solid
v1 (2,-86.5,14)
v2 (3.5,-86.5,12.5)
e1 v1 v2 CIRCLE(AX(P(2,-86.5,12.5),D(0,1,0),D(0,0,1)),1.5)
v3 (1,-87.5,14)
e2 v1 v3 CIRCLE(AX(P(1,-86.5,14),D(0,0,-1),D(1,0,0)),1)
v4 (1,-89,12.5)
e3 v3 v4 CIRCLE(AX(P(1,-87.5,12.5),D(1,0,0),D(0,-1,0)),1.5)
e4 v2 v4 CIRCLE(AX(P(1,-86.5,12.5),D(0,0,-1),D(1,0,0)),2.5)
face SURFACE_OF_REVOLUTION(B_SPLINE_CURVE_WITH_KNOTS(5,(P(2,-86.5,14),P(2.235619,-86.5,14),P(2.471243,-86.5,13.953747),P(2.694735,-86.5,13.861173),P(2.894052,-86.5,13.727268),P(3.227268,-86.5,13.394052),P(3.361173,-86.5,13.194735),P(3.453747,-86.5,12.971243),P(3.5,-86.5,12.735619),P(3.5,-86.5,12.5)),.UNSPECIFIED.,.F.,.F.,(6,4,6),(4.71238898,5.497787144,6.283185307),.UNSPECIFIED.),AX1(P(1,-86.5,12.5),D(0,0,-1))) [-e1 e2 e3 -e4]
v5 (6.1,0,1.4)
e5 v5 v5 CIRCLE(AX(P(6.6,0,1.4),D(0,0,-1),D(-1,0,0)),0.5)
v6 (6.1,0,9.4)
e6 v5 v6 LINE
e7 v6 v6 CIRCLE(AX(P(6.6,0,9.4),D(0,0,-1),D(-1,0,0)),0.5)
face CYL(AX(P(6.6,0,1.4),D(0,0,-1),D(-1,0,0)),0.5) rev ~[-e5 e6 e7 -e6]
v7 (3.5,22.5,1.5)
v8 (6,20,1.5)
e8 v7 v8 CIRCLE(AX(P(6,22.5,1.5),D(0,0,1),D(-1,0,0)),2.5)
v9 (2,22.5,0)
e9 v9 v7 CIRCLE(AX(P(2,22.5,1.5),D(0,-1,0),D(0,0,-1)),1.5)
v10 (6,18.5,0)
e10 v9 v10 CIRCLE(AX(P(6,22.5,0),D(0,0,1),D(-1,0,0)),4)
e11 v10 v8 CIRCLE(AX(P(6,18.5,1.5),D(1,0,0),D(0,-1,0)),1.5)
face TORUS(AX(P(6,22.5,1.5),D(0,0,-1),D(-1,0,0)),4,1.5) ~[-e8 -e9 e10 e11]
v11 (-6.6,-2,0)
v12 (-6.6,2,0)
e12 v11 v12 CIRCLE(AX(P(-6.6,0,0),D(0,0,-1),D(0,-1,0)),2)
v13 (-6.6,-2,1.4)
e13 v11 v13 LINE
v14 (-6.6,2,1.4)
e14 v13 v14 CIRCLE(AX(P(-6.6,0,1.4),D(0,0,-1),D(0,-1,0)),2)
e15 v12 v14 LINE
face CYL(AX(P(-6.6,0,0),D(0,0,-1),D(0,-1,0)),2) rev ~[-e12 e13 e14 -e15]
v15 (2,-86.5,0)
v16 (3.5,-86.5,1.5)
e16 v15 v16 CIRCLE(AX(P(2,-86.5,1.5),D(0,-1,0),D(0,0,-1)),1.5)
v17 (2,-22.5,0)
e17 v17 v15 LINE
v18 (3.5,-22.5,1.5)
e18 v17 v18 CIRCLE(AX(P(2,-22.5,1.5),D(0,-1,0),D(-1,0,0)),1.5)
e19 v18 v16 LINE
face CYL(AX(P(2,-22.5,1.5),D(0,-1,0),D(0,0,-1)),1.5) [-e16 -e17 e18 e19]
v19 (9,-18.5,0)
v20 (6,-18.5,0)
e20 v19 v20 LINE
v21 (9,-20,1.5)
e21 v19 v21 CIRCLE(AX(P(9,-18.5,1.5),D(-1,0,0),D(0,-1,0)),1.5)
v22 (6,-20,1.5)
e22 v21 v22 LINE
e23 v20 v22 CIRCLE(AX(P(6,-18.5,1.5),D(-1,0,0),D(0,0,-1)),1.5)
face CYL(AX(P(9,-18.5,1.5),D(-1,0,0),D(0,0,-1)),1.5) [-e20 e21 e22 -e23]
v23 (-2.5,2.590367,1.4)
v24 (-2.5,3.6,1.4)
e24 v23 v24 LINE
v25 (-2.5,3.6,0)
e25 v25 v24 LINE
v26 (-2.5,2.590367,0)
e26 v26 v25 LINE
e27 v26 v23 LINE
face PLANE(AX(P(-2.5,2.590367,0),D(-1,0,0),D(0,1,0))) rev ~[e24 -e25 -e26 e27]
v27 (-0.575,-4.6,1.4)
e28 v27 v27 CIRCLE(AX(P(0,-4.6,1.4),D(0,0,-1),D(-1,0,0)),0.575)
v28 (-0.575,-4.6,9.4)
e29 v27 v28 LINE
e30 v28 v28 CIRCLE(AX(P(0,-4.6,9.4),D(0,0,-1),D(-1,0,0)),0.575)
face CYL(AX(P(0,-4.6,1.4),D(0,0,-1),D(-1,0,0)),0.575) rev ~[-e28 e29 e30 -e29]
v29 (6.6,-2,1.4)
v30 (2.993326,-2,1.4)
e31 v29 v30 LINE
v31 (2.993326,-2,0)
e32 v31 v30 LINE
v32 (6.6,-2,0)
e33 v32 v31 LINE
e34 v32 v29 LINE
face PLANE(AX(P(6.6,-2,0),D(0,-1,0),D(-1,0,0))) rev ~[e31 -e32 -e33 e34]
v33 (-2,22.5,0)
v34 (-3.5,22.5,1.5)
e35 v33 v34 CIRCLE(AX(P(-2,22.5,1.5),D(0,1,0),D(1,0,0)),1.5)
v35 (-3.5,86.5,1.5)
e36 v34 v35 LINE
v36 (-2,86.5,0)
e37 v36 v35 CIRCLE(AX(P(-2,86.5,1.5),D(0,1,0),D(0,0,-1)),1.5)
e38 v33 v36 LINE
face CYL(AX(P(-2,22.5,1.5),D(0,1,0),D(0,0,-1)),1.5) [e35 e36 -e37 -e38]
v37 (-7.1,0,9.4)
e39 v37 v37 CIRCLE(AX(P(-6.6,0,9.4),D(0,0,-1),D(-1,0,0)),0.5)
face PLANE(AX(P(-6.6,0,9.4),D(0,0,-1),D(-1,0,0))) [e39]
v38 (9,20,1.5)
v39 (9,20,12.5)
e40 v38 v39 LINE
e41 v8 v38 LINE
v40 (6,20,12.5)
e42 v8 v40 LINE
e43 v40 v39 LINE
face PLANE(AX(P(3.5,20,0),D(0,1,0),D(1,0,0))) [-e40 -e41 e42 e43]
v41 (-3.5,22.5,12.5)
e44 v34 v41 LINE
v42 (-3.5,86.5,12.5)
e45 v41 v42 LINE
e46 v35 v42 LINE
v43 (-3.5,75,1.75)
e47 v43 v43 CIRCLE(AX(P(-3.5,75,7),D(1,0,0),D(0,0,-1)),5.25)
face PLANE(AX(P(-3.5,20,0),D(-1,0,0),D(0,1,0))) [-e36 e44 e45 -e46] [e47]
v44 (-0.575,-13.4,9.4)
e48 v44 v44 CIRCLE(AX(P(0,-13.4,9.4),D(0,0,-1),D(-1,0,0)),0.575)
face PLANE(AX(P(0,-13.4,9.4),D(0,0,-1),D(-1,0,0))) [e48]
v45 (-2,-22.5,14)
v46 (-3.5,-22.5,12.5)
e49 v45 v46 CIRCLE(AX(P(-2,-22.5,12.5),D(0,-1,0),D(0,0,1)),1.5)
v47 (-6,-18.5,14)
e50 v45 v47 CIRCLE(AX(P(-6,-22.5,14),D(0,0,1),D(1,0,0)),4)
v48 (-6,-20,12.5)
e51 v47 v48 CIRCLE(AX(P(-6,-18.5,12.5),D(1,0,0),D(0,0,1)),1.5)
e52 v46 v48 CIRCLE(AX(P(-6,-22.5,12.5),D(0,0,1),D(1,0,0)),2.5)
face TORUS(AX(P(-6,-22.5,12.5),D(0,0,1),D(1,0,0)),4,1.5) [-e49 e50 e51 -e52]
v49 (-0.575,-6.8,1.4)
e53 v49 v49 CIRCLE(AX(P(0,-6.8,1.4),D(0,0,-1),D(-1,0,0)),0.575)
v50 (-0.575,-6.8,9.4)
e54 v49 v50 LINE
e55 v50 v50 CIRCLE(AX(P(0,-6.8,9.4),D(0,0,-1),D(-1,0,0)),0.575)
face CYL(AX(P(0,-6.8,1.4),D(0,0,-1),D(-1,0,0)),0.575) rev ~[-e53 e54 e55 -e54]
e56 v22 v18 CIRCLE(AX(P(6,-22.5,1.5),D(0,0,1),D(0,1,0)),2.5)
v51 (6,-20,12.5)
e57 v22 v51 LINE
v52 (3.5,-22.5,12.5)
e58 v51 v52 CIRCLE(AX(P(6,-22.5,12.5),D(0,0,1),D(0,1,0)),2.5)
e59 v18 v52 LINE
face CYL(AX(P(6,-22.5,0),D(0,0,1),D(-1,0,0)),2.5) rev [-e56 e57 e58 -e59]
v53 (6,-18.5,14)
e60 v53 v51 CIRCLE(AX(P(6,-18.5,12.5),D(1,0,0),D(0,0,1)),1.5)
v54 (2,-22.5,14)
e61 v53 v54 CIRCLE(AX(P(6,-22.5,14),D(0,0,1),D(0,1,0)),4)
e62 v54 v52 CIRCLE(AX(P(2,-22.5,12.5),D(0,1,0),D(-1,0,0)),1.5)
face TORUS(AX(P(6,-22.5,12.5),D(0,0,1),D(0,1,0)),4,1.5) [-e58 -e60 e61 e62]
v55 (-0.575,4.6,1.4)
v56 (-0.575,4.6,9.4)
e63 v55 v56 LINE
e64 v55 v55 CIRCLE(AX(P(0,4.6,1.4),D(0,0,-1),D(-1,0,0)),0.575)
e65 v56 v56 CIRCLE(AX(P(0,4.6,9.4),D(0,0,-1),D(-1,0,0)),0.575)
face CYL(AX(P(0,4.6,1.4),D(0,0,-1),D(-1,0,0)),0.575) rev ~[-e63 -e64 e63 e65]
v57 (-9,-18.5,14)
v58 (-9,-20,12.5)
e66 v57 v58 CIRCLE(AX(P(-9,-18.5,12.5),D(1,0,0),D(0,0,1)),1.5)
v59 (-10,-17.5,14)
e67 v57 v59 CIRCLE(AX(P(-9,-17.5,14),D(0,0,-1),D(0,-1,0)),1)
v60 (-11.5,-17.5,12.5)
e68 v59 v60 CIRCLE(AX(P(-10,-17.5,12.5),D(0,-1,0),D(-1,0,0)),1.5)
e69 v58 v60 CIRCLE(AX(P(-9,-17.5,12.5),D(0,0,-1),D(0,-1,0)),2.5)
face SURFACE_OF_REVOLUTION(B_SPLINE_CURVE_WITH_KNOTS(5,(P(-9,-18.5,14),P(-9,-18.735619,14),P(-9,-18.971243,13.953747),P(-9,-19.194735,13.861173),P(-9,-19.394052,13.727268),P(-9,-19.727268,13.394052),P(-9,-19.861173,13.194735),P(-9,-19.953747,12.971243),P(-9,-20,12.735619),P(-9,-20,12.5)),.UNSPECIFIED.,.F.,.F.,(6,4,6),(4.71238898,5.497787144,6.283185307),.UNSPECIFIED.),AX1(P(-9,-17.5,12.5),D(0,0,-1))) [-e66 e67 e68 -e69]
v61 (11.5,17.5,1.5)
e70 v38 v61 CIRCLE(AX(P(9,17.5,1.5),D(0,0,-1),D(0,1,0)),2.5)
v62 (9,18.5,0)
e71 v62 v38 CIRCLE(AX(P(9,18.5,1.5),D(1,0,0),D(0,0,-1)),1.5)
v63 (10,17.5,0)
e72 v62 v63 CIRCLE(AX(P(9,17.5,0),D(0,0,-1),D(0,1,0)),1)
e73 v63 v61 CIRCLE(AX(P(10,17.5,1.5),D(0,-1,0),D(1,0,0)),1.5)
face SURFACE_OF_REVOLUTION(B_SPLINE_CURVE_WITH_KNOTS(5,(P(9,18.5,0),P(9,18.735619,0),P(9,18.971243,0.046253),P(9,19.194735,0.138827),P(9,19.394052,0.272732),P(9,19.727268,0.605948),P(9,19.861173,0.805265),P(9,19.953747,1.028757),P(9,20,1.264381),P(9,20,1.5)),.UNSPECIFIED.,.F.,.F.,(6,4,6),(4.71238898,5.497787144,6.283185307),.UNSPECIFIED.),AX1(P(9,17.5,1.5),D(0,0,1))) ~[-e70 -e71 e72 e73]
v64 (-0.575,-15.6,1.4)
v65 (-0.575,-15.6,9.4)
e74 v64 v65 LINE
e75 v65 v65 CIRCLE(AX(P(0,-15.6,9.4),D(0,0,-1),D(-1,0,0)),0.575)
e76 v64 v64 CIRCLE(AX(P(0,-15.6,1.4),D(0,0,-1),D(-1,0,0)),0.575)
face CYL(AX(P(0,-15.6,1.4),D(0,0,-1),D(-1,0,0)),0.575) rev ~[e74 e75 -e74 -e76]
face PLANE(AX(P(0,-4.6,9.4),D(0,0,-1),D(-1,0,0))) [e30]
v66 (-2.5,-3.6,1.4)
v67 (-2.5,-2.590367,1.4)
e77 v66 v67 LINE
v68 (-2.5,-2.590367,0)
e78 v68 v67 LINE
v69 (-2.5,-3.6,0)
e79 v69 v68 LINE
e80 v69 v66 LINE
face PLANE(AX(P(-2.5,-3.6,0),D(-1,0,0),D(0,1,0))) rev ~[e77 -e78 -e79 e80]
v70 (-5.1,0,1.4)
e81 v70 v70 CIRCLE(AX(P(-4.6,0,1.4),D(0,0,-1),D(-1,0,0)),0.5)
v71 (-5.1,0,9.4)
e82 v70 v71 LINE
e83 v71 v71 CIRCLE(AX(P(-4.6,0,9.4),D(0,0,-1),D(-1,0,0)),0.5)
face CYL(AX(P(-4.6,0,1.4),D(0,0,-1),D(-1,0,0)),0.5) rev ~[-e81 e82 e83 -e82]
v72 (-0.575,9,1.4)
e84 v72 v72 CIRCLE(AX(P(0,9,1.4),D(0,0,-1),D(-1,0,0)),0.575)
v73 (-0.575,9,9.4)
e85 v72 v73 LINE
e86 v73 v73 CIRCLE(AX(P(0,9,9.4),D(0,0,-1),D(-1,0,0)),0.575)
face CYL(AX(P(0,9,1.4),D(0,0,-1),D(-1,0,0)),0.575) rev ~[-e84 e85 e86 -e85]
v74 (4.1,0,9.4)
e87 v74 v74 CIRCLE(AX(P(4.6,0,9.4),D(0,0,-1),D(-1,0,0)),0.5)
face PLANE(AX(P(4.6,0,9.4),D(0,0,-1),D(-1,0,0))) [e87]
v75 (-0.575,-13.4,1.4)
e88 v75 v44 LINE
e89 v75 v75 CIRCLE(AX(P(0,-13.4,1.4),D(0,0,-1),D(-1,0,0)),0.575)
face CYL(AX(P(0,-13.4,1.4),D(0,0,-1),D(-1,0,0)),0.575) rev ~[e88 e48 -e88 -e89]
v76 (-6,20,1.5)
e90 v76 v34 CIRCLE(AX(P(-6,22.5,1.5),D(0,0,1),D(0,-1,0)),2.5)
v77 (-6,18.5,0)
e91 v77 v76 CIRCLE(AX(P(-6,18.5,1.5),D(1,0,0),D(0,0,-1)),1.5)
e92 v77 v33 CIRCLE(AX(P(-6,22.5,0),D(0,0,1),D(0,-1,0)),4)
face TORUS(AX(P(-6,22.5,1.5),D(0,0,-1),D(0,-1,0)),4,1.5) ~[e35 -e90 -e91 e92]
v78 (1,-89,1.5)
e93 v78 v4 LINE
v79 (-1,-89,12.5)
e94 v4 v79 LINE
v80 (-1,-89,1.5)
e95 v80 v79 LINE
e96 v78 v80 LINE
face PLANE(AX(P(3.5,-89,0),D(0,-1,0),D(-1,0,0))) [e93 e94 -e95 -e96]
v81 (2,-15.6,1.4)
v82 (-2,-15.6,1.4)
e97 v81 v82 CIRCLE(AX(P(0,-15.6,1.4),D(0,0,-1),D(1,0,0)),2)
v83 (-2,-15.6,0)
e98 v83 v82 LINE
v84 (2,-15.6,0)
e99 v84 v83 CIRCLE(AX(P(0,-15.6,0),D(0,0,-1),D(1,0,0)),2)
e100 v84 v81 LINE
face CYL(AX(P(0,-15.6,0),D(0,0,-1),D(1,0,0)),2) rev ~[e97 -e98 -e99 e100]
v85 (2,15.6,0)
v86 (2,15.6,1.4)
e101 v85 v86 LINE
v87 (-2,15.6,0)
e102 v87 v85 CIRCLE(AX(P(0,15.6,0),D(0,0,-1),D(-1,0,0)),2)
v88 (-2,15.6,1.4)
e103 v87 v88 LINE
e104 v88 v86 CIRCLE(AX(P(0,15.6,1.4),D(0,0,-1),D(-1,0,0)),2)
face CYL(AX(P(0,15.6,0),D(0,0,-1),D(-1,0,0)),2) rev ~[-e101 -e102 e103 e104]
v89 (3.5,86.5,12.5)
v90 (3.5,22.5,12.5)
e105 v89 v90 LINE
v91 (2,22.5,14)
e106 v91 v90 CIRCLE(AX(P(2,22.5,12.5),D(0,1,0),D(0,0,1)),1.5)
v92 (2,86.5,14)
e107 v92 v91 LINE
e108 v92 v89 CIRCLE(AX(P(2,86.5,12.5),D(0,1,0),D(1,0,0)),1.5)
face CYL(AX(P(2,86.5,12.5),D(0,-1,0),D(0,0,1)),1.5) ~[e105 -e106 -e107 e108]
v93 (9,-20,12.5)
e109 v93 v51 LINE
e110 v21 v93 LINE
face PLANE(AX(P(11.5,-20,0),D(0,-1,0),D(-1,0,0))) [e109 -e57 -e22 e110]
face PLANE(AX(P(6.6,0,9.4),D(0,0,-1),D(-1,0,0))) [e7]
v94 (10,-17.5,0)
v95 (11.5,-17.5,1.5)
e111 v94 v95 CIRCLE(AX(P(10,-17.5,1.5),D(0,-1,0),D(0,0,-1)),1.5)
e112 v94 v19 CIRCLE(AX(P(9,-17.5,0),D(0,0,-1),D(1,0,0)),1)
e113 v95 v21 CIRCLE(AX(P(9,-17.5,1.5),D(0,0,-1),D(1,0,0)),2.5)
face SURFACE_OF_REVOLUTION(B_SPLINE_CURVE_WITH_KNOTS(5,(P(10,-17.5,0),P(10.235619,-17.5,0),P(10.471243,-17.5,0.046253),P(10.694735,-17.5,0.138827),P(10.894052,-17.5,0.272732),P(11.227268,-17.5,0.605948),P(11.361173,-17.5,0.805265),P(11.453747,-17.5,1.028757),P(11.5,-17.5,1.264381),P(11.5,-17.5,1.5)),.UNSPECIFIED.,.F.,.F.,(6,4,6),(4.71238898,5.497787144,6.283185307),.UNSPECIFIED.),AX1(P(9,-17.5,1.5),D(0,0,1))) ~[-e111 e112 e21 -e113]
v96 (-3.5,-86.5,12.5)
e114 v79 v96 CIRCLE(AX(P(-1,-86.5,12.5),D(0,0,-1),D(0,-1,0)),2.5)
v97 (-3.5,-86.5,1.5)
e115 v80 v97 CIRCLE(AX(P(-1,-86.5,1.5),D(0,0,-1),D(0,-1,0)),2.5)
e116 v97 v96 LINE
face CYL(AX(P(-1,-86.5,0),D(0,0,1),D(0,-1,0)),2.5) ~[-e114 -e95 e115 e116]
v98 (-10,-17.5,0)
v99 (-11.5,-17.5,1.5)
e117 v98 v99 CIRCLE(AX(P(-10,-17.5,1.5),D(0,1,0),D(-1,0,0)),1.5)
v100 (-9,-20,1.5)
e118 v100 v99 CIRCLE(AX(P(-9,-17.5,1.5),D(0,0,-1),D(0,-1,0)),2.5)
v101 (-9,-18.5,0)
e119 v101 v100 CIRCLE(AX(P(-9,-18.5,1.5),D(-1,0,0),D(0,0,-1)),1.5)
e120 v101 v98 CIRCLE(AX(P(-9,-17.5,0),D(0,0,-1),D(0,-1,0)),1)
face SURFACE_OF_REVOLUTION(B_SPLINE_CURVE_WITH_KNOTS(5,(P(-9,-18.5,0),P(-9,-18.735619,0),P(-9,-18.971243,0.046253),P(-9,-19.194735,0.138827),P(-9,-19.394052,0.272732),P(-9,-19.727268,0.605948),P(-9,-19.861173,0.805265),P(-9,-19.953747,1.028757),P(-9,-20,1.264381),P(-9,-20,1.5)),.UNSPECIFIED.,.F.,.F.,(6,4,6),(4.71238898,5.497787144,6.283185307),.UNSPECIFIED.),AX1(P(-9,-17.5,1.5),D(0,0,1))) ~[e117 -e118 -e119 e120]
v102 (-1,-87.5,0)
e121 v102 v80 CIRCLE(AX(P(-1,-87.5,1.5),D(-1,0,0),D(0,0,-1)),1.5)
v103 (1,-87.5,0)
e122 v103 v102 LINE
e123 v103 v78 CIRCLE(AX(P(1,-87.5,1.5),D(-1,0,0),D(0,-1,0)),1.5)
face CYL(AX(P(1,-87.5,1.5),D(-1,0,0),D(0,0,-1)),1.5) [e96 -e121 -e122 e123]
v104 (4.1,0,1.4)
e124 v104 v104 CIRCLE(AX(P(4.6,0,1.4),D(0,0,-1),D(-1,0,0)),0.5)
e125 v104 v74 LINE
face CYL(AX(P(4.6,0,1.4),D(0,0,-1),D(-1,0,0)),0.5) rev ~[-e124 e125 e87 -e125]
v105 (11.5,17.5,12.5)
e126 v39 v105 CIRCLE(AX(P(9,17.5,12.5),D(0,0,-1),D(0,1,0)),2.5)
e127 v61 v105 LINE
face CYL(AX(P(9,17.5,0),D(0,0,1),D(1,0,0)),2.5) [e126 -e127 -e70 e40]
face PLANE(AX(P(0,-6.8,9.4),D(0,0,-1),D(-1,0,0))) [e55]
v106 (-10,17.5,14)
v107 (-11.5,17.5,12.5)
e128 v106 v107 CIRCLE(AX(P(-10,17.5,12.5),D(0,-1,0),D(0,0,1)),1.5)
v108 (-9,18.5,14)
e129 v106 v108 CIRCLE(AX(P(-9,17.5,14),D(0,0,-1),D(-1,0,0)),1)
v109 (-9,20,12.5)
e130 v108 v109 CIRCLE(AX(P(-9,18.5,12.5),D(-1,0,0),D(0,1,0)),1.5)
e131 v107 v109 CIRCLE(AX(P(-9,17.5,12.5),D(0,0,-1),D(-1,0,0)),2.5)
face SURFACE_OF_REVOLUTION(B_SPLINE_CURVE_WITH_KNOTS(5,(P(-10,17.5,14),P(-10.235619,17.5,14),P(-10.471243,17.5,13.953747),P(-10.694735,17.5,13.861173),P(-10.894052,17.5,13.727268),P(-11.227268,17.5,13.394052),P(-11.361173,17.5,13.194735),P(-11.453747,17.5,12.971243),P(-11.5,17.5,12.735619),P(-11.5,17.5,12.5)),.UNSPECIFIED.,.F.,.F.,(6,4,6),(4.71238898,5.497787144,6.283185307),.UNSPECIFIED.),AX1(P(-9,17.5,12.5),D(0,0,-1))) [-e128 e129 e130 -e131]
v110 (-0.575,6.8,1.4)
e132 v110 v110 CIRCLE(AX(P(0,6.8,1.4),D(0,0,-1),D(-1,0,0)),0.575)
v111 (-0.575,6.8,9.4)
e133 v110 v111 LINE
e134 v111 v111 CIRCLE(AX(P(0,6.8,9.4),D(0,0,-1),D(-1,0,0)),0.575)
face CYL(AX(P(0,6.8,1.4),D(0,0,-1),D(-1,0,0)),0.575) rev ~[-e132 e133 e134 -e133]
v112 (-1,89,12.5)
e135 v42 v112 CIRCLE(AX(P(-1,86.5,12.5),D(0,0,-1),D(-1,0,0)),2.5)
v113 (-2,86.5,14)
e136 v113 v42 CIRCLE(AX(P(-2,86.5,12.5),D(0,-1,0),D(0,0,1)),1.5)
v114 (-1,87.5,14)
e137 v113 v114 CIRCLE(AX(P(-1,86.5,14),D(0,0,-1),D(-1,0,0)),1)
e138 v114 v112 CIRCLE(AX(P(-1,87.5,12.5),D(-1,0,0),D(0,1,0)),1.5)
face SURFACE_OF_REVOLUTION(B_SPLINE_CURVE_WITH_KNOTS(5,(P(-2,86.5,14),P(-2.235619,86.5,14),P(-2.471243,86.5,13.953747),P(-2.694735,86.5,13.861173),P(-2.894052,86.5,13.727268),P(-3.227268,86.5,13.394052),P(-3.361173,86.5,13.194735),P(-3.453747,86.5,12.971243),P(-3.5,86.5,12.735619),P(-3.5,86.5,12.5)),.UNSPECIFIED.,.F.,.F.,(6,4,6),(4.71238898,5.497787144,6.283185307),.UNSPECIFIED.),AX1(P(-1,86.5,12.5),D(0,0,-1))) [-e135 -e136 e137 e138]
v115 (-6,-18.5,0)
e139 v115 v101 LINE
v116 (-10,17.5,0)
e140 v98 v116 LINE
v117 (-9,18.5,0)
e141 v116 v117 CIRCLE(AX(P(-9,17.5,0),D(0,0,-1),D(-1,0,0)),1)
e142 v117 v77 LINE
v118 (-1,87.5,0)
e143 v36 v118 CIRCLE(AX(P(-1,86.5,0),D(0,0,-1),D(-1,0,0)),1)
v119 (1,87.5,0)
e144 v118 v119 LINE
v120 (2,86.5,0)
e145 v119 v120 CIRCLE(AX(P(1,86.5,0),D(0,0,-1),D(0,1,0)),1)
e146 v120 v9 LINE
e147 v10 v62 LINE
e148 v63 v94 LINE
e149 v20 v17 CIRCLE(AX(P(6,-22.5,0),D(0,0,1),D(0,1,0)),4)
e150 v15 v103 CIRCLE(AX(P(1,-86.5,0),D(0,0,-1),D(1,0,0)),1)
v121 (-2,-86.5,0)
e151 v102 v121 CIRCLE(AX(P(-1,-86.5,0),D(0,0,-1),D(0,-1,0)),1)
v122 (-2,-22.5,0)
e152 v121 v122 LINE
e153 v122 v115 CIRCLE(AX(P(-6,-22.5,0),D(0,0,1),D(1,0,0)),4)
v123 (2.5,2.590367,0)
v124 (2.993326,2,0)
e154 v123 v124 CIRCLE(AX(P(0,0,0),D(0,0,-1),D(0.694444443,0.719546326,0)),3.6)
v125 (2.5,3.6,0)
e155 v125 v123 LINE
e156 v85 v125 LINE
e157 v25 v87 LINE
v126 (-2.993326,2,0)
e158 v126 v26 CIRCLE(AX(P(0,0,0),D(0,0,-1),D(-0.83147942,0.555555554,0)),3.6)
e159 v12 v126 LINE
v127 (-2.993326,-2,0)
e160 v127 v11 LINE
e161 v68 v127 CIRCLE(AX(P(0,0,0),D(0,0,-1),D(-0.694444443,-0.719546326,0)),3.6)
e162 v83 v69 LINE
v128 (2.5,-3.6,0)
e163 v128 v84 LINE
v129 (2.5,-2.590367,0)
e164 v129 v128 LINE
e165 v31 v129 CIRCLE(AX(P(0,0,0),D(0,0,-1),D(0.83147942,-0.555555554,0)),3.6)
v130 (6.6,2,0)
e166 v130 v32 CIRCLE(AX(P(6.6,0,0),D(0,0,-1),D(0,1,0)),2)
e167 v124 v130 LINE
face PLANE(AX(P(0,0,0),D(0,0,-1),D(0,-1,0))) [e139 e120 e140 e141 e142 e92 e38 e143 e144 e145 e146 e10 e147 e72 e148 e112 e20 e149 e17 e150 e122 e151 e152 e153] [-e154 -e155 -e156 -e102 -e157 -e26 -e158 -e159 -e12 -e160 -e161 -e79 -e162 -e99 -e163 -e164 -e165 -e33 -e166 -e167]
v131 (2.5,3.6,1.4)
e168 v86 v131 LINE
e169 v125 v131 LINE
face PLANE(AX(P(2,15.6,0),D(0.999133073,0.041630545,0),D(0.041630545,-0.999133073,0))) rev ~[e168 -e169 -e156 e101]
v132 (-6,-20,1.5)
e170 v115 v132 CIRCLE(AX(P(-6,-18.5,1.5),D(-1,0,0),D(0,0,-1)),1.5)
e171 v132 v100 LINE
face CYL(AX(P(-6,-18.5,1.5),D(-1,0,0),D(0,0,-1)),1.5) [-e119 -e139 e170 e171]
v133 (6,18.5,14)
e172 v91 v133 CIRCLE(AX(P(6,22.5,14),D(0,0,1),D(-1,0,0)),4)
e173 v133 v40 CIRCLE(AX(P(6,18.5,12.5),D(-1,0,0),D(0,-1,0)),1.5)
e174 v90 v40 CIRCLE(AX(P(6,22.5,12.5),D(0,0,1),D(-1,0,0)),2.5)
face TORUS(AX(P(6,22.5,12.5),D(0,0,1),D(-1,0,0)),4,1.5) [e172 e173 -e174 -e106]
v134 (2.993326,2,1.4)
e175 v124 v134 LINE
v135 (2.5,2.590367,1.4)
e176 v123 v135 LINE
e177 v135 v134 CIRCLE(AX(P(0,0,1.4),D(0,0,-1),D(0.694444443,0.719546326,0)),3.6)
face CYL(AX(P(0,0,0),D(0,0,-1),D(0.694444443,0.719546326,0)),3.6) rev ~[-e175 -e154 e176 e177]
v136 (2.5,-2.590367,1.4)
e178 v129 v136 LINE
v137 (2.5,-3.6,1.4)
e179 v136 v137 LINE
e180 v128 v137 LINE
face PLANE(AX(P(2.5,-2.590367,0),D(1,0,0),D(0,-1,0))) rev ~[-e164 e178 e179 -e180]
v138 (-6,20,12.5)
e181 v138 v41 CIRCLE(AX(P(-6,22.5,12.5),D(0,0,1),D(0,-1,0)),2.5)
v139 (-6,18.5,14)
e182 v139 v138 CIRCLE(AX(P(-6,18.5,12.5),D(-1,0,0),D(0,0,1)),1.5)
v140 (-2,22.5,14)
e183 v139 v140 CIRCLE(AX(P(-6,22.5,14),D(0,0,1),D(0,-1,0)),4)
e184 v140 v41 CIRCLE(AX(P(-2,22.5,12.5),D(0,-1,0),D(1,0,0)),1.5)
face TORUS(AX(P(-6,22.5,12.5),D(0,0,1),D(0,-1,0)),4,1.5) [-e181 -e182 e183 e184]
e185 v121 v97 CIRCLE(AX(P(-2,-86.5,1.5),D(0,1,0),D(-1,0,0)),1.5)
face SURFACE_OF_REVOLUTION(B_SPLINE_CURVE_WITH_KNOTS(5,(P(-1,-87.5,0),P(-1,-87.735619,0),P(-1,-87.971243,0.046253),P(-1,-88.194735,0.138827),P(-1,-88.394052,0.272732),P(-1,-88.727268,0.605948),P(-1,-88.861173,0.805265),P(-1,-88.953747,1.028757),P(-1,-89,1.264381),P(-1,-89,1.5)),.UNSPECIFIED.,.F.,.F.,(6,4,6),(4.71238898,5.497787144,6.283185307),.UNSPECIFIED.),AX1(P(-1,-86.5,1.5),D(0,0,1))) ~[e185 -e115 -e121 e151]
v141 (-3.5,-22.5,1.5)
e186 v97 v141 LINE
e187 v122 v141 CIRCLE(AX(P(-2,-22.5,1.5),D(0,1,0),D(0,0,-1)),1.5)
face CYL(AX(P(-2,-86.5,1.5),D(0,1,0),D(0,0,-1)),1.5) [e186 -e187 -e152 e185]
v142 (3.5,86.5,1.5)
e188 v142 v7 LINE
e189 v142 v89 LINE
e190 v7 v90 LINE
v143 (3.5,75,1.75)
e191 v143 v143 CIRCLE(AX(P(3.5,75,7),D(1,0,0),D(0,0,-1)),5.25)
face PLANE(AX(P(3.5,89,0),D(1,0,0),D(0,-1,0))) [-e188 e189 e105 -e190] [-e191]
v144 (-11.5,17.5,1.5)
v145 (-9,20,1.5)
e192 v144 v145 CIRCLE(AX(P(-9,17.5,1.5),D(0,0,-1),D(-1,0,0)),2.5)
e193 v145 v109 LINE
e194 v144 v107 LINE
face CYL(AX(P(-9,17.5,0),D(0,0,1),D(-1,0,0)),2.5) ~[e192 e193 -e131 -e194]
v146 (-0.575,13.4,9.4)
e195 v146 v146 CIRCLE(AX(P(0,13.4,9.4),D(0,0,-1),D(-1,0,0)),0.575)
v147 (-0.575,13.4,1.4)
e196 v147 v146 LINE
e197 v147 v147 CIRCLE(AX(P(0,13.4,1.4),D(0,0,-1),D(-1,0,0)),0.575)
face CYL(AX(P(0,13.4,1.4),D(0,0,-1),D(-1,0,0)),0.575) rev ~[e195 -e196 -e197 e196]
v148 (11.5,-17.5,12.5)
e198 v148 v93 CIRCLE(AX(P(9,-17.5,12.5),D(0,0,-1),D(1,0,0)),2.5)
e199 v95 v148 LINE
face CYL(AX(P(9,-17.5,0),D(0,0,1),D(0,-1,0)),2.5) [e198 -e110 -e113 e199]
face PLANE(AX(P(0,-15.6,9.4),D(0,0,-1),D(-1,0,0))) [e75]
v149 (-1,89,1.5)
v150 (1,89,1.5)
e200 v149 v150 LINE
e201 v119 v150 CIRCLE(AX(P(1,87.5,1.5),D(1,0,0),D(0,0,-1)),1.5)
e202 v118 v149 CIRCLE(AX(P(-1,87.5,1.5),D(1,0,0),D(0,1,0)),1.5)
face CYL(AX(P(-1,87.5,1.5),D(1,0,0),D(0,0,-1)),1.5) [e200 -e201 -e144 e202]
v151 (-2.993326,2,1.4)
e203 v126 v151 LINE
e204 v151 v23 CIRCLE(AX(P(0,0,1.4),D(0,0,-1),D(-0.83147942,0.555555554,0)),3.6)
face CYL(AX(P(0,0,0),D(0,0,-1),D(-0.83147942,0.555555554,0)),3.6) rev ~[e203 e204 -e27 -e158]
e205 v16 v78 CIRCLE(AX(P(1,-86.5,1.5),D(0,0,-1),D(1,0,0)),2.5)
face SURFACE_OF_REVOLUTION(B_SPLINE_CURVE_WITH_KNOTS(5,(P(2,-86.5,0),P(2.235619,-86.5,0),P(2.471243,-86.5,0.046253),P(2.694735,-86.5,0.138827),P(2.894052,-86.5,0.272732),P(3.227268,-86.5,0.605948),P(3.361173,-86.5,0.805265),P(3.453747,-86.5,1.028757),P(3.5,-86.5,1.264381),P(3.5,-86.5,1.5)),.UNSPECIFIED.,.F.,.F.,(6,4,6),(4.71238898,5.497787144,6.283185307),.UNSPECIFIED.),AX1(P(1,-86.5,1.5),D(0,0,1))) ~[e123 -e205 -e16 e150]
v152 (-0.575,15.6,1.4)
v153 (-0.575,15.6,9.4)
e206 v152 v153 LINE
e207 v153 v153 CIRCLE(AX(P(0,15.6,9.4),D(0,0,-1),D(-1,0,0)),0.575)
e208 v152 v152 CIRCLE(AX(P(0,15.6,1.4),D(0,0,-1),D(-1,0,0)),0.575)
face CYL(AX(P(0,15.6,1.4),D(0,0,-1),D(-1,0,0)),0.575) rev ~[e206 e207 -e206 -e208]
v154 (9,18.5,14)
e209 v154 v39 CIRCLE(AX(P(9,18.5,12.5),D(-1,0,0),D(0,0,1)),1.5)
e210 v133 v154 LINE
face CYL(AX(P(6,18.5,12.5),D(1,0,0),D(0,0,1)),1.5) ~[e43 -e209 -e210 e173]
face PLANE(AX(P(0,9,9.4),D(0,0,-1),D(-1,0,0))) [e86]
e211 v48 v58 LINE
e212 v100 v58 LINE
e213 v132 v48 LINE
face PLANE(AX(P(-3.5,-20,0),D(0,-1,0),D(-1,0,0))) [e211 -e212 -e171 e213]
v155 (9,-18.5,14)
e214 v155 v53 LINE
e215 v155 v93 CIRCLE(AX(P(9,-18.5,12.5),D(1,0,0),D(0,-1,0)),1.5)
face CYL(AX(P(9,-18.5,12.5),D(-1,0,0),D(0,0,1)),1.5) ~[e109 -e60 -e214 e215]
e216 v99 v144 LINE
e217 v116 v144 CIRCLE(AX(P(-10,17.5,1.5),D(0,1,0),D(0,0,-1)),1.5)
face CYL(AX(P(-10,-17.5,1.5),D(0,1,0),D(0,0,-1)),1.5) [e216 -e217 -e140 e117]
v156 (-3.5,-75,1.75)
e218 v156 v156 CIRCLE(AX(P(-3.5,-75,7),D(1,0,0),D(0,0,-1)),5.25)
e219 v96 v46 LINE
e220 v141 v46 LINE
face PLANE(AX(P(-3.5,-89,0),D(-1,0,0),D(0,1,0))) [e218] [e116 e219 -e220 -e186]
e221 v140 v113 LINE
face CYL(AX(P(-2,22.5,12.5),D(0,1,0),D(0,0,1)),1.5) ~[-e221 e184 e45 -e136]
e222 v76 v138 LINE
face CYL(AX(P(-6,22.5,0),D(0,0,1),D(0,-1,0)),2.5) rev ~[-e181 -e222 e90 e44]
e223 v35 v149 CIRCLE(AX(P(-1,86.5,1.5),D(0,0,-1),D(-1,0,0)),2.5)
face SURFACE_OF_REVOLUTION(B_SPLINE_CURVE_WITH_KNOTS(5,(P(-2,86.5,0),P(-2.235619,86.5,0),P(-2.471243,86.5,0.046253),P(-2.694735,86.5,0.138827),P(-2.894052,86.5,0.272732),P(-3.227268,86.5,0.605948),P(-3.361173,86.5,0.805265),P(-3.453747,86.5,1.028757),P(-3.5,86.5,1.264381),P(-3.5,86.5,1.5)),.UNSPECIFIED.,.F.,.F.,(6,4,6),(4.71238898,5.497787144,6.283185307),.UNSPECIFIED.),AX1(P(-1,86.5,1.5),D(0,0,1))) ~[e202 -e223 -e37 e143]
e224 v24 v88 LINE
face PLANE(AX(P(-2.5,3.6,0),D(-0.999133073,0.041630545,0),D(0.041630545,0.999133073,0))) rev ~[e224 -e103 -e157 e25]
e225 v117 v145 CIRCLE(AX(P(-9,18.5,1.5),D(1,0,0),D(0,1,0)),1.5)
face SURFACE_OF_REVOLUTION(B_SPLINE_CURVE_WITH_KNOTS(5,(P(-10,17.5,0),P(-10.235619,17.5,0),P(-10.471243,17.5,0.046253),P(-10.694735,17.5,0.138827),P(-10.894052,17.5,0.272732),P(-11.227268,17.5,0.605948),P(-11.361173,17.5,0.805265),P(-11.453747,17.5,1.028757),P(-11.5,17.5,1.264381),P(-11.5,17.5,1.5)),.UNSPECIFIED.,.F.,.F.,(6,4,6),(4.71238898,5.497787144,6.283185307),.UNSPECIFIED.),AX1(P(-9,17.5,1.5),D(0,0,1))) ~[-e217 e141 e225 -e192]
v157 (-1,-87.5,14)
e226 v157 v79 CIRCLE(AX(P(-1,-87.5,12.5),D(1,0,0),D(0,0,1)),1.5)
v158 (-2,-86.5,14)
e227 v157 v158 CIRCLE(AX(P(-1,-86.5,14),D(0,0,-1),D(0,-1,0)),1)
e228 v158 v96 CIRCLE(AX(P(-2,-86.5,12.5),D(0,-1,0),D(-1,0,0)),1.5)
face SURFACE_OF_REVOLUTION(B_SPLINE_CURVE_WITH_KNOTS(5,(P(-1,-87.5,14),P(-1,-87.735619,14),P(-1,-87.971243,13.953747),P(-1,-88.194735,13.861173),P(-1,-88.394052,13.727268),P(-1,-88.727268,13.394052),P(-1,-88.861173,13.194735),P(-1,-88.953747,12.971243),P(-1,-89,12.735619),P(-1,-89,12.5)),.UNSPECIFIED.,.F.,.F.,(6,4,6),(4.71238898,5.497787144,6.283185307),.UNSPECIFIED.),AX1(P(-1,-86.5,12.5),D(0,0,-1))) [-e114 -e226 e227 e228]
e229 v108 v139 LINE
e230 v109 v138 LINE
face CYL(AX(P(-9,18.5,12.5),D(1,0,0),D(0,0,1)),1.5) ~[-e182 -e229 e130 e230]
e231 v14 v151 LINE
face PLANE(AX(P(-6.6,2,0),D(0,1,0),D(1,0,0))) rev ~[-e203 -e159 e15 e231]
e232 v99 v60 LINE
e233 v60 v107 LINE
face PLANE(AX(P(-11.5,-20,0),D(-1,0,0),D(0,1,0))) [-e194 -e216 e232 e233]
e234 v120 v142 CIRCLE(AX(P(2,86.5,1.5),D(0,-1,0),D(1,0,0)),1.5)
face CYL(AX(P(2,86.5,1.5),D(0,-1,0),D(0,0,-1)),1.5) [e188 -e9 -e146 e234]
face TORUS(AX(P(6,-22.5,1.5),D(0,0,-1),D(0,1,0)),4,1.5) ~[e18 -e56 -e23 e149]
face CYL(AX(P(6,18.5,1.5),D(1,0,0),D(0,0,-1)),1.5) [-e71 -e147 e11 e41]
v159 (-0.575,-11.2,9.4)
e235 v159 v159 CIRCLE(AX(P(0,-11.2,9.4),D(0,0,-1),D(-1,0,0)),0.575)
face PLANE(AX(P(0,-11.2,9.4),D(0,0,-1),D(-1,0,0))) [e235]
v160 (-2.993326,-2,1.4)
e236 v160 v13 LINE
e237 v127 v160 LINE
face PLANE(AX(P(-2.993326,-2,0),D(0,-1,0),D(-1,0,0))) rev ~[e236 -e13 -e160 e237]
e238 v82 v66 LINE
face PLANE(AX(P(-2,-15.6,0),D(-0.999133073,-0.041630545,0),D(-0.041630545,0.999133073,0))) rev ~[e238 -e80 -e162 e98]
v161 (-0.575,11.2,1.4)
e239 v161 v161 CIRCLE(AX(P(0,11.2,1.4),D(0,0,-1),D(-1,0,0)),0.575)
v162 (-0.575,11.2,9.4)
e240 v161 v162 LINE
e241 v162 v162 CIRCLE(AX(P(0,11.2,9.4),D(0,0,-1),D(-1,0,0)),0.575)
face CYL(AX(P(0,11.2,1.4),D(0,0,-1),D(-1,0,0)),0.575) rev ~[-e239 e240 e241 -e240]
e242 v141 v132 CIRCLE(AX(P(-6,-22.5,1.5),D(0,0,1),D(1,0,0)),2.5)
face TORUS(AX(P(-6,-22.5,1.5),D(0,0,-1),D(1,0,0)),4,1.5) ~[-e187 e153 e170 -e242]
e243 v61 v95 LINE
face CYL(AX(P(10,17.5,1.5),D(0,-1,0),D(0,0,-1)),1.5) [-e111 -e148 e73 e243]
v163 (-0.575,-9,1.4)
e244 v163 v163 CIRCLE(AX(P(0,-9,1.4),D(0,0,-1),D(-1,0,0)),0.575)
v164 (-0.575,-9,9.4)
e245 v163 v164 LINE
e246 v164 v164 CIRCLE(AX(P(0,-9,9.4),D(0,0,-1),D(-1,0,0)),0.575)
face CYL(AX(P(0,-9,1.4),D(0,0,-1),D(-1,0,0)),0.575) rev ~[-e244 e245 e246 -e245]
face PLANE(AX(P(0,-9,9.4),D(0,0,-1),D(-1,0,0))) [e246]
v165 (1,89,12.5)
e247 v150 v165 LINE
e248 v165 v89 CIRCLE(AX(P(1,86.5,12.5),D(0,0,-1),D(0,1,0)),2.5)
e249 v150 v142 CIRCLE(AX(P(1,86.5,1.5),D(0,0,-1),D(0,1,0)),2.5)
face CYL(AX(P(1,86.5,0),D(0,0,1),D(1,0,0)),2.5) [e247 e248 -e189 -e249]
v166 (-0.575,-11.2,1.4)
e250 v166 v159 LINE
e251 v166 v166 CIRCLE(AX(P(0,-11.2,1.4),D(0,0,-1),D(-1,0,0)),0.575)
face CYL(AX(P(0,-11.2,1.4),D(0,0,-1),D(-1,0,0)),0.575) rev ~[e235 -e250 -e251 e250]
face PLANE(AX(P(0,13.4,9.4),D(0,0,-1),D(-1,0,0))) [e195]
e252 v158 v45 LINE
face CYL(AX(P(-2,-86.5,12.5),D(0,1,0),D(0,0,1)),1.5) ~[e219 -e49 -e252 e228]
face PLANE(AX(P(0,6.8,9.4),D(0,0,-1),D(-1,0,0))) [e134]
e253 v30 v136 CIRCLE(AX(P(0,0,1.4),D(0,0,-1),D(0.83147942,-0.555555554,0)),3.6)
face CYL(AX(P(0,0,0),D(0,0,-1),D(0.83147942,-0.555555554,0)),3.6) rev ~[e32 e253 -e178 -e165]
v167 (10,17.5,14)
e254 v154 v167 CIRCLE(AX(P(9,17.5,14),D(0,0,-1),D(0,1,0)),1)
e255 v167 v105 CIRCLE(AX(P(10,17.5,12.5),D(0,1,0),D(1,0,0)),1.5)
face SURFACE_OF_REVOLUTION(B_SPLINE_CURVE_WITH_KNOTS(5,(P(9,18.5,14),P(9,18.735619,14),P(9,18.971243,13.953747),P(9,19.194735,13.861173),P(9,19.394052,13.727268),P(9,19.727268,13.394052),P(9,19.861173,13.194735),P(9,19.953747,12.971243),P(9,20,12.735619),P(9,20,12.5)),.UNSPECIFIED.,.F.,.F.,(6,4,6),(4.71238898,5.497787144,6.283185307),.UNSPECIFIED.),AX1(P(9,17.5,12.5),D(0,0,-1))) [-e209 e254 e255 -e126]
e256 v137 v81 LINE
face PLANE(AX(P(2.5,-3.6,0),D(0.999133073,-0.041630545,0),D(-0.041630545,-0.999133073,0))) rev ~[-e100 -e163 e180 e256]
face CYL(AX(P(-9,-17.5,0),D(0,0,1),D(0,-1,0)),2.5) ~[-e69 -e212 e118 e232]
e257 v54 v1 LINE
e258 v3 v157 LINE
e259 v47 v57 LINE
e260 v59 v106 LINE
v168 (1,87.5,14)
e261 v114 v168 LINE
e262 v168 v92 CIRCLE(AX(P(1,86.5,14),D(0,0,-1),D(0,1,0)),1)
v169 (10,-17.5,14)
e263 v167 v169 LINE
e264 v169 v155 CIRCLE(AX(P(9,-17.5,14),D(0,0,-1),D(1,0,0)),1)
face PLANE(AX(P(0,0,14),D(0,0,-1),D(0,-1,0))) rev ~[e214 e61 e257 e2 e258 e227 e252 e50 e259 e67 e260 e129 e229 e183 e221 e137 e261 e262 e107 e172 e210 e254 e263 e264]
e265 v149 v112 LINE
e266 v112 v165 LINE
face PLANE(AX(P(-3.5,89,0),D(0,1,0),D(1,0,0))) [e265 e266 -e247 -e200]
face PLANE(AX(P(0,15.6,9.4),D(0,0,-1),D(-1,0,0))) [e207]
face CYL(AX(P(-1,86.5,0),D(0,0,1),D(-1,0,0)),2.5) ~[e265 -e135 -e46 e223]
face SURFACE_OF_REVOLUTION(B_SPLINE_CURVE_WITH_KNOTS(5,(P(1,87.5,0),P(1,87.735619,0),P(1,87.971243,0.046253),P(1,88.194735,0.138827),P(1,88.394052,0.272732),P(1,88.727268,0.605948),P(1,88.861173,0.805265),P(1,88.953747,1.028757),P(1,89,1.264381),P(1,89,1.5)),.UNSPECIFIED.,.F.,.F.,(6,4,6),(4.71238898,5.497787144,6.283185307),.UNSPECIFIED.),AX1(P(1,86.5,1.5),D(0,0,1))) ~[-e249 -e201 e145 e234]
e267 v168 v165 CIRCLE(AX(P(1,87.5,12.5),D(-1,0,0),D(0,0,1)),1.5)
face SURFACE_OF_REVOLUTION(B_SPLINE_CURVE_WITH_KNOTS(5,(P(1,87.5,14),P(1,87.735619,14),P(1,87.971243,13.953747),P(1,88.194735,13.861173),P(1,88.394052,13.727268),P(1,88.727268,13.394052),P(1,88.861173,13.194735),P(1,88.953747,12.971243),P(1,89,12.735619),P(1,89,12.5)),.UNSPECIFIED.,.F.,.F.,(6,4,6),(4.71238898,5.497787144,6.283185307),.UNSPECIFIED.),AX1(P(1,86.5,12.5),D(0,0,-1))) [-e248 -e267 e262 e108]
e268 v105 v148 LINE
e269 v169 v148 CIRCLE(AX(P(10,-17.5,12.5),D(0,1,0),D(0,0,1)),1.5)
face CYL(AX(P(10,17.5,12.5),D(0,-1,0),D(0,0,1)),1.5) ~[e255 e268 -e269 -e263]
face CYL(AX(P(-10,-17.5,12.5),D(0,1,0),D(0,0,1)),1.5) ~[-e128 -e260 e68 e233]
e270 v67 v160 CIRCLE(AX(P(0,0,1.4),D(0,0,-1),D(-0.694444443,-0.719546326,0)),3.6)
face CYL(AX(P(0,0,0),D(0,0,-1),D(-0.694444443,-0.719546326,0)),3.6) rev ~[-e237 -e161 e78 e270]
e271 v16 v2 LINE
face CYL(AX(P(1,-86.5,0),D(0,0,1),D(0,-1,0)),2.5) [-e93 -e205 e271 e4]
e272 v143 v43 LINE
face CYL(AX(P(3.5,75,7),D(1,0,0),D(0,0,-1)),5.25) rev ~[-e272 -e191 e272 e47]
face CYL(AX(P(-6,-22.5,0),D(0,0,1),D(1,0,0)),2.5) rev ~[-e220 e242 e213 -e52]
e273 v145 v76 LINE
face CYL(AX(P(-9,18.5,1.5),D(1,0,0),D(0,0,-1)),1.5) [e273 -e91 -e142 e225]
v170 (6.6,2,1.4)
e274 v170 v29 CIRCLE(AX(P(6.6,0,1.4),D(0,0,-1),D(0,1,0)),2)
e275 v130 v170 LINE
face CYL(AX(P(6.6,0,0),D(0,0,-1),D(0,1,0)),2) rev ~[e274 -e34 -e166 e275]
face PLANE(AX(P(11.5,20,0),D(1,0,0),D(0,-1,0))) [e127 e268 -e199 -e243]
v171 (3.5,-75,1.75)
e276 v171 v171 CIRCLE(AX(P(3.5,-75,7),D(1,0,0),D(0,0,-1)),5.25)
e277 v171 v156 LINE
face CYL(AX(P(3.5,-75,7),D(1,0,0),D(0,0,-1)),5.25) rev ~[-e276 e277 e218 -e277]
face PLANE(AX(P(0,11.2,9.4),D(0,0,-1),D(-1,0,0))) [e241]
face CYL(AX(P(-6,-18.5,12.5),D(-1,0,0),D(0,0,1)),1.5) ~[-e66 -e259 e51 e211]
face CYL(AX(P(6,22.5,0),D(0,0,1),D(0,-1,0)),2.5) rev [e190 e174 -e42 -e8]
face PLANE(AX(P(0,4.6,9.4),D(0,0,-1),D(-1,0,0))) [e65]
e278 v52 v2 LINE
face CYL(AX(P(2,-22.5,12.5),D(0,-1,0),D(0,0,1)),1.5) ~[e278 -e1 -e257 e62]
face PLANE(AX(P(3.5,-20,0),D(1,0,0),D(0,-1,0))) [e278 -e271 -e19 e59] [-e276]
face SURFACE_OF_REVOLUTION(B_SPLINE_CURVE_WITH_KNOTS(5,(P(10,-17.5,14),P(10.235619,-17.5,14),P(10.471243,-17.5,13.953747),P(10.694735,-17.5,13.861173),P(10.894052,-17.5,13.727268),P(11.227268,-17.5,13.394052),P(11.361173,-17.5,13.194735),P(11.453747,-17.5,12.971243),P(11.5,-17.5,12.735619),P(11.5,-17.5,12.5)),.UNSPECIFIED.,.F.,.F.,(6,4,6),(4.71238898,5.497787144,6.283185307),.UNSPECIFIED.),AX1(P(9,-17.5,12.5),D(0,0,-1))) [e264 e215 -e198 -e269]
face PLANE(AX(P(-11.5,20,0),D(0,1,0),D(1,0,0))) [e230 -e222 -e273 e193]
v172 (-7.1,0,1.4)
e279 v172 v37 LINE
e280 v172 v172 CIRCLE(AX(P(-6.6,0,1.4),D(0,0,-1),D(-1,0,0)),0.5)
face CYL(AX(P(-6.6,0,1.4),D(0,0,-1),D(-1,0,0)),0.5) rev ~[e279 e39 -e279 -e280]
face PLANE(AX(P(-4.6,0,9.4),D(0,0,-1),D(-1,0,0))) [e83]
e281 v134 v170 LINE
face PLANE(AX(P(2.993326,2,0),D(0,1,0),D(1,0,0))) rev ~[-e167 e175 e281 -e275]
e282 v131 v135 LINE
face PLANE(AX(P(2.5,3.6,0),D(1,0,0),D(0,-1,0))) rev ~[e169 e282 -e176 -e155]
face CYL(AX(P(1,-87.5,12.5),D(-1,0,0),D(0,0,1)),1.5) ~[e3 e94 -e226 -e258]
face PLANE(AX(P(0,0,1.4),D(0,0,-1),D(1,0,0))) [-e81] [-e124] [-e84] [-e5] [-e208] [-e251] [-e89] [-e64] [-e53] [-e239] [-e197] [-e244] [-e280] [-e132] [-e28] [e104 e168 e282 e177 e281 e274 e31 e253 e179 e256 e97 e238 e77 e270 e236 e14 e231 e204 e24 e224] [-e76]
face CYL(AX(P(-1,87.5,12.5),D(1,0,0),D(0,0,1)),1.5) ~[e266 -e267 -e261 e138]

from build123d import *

# Parameters (mm, degrees)
BOSS_EXTRUDE1_DEPTH = 14
SKETCH5_R           = 5.25
CUT_EXTRUDE1_DEPTH  = 92.33454987
CUT_EXTRUDE3_DEPTH  = 1.4
SKETCH9_R           = 0.575
SKETCH9_R_2         = 0.5
CUT_EXTRUDE5_DEPTH  = 8
FILLET1_R           = 2.5
FILLET2_R           = 1.5
FILLET3_R           = 1.5


with BuildPart() as part:
    # Sketch4 → Boss-Extrude1 (new body)
    with BuildSketch(Plane(origin=(0, 0, 0), x_dir=(0, 1, 0), z_dir=(0, 0, 1))):
        Polygon((-89, -3.5), (-89, 3.5), (-20, 3.5), (-20, 11.5), (20, 11.5), (20, 3.5), (89, 3.5), (89, -3.5), (20, -3.5), (20, -11.5), (-20, -11.5), (-20, -3.5), align=None)
    extrude(amount=BOSS_EXTRUDE1_DEPTH)

    # Sketch5 → Cut-Extrude1 (cut, through all)
    with BuildSketch(Plane.YZ.offset(3.5)):
        with Locations(Location((75, 7, 0), (0, 0, 270))):
            Circle(SKETCH5_R)
        with Locations(Location((-75, 7, 0), (0, 0, 270))):
            Circle(SKETCH5_R)
    extrude(amount=-CUT_EXTRUDE1_DEPTH, mode=Mode.SUBTRACT)

    # Sketch8 → Cut-Extrude3 (cut)
    with BuildSketch(Plane(origin=(0, 0, 0), x_dir=(1, 0, 0), z_dir=(0, 0, -1))):
        with BuildLine():
            Line((2.5, 3.6), (2, 15.6))
            ThreePointArc((2, 15.6), (0, 17.6), (-2, 15.6))
            Line((-2, 15.6), (-2.5, 3.6))
            Line((-2.5, 3.6), (-2.5, 2.590366769))
            ThreePointArc((-2.5, 2.590366769), (-2.762479071, 2.308399745), (-2.993325909, 2))
            Line((-2.993325909, 2), (-6.6, 2))
            ThreePointArc((-6.6, 2), (-8.6, 0), (-6.6, -2))
            Line((-6.6, -2), (-2.993325909, -2))
            ThreePointArc((-2.993325909, -2), (-2.762479071, -2.308399745), (-2.5, -2.590366769))
            Line((-2.5, -2.590366769), (-2.5, -3.6))
            Line((-2.5, -3.6), (-2, -15.6))
            ThreePointArc((-2, -15.6), (0, -17.6), (2, -15.6))
            Line((2, -15.6), (2.5, -3.6))
            Line((2.5, -3.6), (2.5, -2.590366769))
            ThreePointArc((2.5, -2.590366769), (2.762479071, -2.308399745), (2.993325909, -2))
            Line((2.993325909, -2), (6.6, -2))
            ThreePointArc((6.6, -2), (8.6, 0), (6.6, 2))
            Line((6.6, 2), (2.993325909, 2))
            ThreePointArc((2.993325909, 2), (2.762479071, 2.308399745), (2.5, 2.590366769))
            Line((2.5, 2.590366769), (2.5, 3.6))
        make_face()
    extrude(amount=-CUT_EXTRUDE3_DEPTH, mode=Mode.SUBTRACT)

    # Sketch9 → Cut-Extrude5 (cut)
    with BuildSketch(Plane(origin=(0, 0, 1.4), x_dir=(1, 0, 0), z_dir=(0, 0, -1))):
        with Locations(Location((0, 13.4, 0), (0, 0, 180))):
            Circle(SKETCH9_R)
        with Locations(Location((0, 11.2, 0), (0, 0, 180))):
            Circle(SKETCH9_R)
        with Locations(Location((0, 9, 0), (0, 0, 180))):
            Circle(SKETCH9_R)
        with Locations(Location((0, 6.8, 0), (0, 0, 180))):
            Circle(SKETCH9_R)
        with Locations(Location((0, 4.6, 0), (0, 0, 180))):
            Circle(SKETCH9_R)
        with Locations(Location((-6.6, 0, 0), (0, 0, 180))):
            Circle(SKETCH9_R_2)
        with Locations(Location((-4.6, 0, 0), (0, 0, 180))):
            Circle(SKETCH9_R_2)
        with Locations(Location((4.6, 0, 0), (0, 0, 180))):
            Circle(SKETCH9_R_2)
        with Locations(Location((6.6, 0, 0), (0, 0, 180))):
            Circle(SKETCH9_R_2)
        with Locations(Location((0, -4.6, 0), (0, 0, 180))):
            Circle(SKETCH9_R)
        with Locations(Location((0, -6.8, 0), (0, 0, 180))):
            Circle(SKETCH9_R)
        with Locations(Location((0, -9, 0), (0, 0, 180))):
            Circle(SKETCH9_R)
        with Locations(Location((0, -11.2, 0), (0, 0, 180))):
            Circle(SKETCH9_R)
        with Locations(Location((0, -13.4, 0), (0, 0, 180))):
            Circle(SKETCH9_R)
        with Locations(Location((0, -15.6, 0), (0, 0, 180))):
            Circle(SKETCH9_R)
        with Locations(Location((0, 15.6, 0), (0, 0, 180))):
            Circle(SKETCH9_R)
    extrude(amount=-CUT_EXTRUDE5_DEPTH, mode=Mode.SUBTRACT)

    # Fillet1
    fillet1_edges = [part.edges().sort_by_distance(p)[0] for p in [
        (-3.5, -20, 7),
        (-11.5, -20, 7),
        (-11.5, 20, 7),
        (-3.5, 20, 7),
        (-3.5, 89, 7),
        (3.5, 89, 7),
        (3.5, 20, 7),
        (11.5, 20, 7),
        (11.5, -20, 7),
        (3.5, -20, 7),
        (3.5, -89, 7),
        (-3.5, -89, 7),
    ]]
    fillet(fillet1_edges, radius=FILLET1_R)

    # Fillet2
    fillet2_edges = [part.edges().sort_by_distance(p)[0] for p in [
        (-7.5, -20, 14),
        (-11.5, 0, 14),
        (-3.5, -54.5, 14),
        (0, -89, 14),
        (3.5, -54.5, 14),
        (7.5, -20, 14),
        (11.5, 0, 14),
        (7.5, 20, 14),
        (3.5, 54.5, 14),
        (0, 89, 14),
        (-3.5, 54.5, 14),
        (-7.5, 20, 14),
        (2.767766953, 88.267766953, 14),
        (-2.767766953, 88.267766953, 14),
        (2.767766953, -88.267766953, 14),
        (-2.767766953, -88.267766953, 14),
        (10.767766953, 19.267766953, 14),
        (10.767766953, -19.267766953, 14),
        (-10.767766953, 19.267766953, 14),
        (-10.767766953, -19.267766953, 14),
        (-4.232233047, -20.732233047, 14),
        (-4.232233047, 20.732233047, 14),
        (4.232233047, 20.732233047, 14),
        (4.232233047, -20.732233047, 14),
    ]]
    fillet(fillet2_edges, radius=FILLET2_R)

    # Fillet3
    fillet3_edges = [part.edges().sort_by_distance(p)[0] for p in [
        (-7.5, -20, 0),
        (-3.5, -54.5, 0),
        (-11.5, 0, 0),
        (-7.5, 20, 0),
        (-3.5, 54.5, 0),
        (0, 89, 0),
        (3.5, 54.5, 0),
        (7.5, 20, 0),
        (11.5, 0, 0),
        (7.5, -20, 0),
        (3.5, -54.5, 0),
        (0, -89, 0),
        (2.767766953, 88.267766953, 0),
        (-2.767766953, 88.267766953, 0),
        (2.767766953, -88.267766953, 0),
        (-2.767766953, -88.267766953, 0),
        (10.767766953, 19.267766953, 0),
        (10.767766953, -19.267766953, 0),
        (-10.767766953, 19.267766953, 0),
        (-10.767766953, -19.267766953, 0),
        (-4.232233047, -20.732233047, 0),
        (-4.232233047, 20.732233047, 0),
        (4.232233047, 20.732233047, 0),
        (4.232233047, -20.732233047, 0),
    ]]
    fillet(fillet3_edges, radius=FILLET3_R)


solid = part.part
